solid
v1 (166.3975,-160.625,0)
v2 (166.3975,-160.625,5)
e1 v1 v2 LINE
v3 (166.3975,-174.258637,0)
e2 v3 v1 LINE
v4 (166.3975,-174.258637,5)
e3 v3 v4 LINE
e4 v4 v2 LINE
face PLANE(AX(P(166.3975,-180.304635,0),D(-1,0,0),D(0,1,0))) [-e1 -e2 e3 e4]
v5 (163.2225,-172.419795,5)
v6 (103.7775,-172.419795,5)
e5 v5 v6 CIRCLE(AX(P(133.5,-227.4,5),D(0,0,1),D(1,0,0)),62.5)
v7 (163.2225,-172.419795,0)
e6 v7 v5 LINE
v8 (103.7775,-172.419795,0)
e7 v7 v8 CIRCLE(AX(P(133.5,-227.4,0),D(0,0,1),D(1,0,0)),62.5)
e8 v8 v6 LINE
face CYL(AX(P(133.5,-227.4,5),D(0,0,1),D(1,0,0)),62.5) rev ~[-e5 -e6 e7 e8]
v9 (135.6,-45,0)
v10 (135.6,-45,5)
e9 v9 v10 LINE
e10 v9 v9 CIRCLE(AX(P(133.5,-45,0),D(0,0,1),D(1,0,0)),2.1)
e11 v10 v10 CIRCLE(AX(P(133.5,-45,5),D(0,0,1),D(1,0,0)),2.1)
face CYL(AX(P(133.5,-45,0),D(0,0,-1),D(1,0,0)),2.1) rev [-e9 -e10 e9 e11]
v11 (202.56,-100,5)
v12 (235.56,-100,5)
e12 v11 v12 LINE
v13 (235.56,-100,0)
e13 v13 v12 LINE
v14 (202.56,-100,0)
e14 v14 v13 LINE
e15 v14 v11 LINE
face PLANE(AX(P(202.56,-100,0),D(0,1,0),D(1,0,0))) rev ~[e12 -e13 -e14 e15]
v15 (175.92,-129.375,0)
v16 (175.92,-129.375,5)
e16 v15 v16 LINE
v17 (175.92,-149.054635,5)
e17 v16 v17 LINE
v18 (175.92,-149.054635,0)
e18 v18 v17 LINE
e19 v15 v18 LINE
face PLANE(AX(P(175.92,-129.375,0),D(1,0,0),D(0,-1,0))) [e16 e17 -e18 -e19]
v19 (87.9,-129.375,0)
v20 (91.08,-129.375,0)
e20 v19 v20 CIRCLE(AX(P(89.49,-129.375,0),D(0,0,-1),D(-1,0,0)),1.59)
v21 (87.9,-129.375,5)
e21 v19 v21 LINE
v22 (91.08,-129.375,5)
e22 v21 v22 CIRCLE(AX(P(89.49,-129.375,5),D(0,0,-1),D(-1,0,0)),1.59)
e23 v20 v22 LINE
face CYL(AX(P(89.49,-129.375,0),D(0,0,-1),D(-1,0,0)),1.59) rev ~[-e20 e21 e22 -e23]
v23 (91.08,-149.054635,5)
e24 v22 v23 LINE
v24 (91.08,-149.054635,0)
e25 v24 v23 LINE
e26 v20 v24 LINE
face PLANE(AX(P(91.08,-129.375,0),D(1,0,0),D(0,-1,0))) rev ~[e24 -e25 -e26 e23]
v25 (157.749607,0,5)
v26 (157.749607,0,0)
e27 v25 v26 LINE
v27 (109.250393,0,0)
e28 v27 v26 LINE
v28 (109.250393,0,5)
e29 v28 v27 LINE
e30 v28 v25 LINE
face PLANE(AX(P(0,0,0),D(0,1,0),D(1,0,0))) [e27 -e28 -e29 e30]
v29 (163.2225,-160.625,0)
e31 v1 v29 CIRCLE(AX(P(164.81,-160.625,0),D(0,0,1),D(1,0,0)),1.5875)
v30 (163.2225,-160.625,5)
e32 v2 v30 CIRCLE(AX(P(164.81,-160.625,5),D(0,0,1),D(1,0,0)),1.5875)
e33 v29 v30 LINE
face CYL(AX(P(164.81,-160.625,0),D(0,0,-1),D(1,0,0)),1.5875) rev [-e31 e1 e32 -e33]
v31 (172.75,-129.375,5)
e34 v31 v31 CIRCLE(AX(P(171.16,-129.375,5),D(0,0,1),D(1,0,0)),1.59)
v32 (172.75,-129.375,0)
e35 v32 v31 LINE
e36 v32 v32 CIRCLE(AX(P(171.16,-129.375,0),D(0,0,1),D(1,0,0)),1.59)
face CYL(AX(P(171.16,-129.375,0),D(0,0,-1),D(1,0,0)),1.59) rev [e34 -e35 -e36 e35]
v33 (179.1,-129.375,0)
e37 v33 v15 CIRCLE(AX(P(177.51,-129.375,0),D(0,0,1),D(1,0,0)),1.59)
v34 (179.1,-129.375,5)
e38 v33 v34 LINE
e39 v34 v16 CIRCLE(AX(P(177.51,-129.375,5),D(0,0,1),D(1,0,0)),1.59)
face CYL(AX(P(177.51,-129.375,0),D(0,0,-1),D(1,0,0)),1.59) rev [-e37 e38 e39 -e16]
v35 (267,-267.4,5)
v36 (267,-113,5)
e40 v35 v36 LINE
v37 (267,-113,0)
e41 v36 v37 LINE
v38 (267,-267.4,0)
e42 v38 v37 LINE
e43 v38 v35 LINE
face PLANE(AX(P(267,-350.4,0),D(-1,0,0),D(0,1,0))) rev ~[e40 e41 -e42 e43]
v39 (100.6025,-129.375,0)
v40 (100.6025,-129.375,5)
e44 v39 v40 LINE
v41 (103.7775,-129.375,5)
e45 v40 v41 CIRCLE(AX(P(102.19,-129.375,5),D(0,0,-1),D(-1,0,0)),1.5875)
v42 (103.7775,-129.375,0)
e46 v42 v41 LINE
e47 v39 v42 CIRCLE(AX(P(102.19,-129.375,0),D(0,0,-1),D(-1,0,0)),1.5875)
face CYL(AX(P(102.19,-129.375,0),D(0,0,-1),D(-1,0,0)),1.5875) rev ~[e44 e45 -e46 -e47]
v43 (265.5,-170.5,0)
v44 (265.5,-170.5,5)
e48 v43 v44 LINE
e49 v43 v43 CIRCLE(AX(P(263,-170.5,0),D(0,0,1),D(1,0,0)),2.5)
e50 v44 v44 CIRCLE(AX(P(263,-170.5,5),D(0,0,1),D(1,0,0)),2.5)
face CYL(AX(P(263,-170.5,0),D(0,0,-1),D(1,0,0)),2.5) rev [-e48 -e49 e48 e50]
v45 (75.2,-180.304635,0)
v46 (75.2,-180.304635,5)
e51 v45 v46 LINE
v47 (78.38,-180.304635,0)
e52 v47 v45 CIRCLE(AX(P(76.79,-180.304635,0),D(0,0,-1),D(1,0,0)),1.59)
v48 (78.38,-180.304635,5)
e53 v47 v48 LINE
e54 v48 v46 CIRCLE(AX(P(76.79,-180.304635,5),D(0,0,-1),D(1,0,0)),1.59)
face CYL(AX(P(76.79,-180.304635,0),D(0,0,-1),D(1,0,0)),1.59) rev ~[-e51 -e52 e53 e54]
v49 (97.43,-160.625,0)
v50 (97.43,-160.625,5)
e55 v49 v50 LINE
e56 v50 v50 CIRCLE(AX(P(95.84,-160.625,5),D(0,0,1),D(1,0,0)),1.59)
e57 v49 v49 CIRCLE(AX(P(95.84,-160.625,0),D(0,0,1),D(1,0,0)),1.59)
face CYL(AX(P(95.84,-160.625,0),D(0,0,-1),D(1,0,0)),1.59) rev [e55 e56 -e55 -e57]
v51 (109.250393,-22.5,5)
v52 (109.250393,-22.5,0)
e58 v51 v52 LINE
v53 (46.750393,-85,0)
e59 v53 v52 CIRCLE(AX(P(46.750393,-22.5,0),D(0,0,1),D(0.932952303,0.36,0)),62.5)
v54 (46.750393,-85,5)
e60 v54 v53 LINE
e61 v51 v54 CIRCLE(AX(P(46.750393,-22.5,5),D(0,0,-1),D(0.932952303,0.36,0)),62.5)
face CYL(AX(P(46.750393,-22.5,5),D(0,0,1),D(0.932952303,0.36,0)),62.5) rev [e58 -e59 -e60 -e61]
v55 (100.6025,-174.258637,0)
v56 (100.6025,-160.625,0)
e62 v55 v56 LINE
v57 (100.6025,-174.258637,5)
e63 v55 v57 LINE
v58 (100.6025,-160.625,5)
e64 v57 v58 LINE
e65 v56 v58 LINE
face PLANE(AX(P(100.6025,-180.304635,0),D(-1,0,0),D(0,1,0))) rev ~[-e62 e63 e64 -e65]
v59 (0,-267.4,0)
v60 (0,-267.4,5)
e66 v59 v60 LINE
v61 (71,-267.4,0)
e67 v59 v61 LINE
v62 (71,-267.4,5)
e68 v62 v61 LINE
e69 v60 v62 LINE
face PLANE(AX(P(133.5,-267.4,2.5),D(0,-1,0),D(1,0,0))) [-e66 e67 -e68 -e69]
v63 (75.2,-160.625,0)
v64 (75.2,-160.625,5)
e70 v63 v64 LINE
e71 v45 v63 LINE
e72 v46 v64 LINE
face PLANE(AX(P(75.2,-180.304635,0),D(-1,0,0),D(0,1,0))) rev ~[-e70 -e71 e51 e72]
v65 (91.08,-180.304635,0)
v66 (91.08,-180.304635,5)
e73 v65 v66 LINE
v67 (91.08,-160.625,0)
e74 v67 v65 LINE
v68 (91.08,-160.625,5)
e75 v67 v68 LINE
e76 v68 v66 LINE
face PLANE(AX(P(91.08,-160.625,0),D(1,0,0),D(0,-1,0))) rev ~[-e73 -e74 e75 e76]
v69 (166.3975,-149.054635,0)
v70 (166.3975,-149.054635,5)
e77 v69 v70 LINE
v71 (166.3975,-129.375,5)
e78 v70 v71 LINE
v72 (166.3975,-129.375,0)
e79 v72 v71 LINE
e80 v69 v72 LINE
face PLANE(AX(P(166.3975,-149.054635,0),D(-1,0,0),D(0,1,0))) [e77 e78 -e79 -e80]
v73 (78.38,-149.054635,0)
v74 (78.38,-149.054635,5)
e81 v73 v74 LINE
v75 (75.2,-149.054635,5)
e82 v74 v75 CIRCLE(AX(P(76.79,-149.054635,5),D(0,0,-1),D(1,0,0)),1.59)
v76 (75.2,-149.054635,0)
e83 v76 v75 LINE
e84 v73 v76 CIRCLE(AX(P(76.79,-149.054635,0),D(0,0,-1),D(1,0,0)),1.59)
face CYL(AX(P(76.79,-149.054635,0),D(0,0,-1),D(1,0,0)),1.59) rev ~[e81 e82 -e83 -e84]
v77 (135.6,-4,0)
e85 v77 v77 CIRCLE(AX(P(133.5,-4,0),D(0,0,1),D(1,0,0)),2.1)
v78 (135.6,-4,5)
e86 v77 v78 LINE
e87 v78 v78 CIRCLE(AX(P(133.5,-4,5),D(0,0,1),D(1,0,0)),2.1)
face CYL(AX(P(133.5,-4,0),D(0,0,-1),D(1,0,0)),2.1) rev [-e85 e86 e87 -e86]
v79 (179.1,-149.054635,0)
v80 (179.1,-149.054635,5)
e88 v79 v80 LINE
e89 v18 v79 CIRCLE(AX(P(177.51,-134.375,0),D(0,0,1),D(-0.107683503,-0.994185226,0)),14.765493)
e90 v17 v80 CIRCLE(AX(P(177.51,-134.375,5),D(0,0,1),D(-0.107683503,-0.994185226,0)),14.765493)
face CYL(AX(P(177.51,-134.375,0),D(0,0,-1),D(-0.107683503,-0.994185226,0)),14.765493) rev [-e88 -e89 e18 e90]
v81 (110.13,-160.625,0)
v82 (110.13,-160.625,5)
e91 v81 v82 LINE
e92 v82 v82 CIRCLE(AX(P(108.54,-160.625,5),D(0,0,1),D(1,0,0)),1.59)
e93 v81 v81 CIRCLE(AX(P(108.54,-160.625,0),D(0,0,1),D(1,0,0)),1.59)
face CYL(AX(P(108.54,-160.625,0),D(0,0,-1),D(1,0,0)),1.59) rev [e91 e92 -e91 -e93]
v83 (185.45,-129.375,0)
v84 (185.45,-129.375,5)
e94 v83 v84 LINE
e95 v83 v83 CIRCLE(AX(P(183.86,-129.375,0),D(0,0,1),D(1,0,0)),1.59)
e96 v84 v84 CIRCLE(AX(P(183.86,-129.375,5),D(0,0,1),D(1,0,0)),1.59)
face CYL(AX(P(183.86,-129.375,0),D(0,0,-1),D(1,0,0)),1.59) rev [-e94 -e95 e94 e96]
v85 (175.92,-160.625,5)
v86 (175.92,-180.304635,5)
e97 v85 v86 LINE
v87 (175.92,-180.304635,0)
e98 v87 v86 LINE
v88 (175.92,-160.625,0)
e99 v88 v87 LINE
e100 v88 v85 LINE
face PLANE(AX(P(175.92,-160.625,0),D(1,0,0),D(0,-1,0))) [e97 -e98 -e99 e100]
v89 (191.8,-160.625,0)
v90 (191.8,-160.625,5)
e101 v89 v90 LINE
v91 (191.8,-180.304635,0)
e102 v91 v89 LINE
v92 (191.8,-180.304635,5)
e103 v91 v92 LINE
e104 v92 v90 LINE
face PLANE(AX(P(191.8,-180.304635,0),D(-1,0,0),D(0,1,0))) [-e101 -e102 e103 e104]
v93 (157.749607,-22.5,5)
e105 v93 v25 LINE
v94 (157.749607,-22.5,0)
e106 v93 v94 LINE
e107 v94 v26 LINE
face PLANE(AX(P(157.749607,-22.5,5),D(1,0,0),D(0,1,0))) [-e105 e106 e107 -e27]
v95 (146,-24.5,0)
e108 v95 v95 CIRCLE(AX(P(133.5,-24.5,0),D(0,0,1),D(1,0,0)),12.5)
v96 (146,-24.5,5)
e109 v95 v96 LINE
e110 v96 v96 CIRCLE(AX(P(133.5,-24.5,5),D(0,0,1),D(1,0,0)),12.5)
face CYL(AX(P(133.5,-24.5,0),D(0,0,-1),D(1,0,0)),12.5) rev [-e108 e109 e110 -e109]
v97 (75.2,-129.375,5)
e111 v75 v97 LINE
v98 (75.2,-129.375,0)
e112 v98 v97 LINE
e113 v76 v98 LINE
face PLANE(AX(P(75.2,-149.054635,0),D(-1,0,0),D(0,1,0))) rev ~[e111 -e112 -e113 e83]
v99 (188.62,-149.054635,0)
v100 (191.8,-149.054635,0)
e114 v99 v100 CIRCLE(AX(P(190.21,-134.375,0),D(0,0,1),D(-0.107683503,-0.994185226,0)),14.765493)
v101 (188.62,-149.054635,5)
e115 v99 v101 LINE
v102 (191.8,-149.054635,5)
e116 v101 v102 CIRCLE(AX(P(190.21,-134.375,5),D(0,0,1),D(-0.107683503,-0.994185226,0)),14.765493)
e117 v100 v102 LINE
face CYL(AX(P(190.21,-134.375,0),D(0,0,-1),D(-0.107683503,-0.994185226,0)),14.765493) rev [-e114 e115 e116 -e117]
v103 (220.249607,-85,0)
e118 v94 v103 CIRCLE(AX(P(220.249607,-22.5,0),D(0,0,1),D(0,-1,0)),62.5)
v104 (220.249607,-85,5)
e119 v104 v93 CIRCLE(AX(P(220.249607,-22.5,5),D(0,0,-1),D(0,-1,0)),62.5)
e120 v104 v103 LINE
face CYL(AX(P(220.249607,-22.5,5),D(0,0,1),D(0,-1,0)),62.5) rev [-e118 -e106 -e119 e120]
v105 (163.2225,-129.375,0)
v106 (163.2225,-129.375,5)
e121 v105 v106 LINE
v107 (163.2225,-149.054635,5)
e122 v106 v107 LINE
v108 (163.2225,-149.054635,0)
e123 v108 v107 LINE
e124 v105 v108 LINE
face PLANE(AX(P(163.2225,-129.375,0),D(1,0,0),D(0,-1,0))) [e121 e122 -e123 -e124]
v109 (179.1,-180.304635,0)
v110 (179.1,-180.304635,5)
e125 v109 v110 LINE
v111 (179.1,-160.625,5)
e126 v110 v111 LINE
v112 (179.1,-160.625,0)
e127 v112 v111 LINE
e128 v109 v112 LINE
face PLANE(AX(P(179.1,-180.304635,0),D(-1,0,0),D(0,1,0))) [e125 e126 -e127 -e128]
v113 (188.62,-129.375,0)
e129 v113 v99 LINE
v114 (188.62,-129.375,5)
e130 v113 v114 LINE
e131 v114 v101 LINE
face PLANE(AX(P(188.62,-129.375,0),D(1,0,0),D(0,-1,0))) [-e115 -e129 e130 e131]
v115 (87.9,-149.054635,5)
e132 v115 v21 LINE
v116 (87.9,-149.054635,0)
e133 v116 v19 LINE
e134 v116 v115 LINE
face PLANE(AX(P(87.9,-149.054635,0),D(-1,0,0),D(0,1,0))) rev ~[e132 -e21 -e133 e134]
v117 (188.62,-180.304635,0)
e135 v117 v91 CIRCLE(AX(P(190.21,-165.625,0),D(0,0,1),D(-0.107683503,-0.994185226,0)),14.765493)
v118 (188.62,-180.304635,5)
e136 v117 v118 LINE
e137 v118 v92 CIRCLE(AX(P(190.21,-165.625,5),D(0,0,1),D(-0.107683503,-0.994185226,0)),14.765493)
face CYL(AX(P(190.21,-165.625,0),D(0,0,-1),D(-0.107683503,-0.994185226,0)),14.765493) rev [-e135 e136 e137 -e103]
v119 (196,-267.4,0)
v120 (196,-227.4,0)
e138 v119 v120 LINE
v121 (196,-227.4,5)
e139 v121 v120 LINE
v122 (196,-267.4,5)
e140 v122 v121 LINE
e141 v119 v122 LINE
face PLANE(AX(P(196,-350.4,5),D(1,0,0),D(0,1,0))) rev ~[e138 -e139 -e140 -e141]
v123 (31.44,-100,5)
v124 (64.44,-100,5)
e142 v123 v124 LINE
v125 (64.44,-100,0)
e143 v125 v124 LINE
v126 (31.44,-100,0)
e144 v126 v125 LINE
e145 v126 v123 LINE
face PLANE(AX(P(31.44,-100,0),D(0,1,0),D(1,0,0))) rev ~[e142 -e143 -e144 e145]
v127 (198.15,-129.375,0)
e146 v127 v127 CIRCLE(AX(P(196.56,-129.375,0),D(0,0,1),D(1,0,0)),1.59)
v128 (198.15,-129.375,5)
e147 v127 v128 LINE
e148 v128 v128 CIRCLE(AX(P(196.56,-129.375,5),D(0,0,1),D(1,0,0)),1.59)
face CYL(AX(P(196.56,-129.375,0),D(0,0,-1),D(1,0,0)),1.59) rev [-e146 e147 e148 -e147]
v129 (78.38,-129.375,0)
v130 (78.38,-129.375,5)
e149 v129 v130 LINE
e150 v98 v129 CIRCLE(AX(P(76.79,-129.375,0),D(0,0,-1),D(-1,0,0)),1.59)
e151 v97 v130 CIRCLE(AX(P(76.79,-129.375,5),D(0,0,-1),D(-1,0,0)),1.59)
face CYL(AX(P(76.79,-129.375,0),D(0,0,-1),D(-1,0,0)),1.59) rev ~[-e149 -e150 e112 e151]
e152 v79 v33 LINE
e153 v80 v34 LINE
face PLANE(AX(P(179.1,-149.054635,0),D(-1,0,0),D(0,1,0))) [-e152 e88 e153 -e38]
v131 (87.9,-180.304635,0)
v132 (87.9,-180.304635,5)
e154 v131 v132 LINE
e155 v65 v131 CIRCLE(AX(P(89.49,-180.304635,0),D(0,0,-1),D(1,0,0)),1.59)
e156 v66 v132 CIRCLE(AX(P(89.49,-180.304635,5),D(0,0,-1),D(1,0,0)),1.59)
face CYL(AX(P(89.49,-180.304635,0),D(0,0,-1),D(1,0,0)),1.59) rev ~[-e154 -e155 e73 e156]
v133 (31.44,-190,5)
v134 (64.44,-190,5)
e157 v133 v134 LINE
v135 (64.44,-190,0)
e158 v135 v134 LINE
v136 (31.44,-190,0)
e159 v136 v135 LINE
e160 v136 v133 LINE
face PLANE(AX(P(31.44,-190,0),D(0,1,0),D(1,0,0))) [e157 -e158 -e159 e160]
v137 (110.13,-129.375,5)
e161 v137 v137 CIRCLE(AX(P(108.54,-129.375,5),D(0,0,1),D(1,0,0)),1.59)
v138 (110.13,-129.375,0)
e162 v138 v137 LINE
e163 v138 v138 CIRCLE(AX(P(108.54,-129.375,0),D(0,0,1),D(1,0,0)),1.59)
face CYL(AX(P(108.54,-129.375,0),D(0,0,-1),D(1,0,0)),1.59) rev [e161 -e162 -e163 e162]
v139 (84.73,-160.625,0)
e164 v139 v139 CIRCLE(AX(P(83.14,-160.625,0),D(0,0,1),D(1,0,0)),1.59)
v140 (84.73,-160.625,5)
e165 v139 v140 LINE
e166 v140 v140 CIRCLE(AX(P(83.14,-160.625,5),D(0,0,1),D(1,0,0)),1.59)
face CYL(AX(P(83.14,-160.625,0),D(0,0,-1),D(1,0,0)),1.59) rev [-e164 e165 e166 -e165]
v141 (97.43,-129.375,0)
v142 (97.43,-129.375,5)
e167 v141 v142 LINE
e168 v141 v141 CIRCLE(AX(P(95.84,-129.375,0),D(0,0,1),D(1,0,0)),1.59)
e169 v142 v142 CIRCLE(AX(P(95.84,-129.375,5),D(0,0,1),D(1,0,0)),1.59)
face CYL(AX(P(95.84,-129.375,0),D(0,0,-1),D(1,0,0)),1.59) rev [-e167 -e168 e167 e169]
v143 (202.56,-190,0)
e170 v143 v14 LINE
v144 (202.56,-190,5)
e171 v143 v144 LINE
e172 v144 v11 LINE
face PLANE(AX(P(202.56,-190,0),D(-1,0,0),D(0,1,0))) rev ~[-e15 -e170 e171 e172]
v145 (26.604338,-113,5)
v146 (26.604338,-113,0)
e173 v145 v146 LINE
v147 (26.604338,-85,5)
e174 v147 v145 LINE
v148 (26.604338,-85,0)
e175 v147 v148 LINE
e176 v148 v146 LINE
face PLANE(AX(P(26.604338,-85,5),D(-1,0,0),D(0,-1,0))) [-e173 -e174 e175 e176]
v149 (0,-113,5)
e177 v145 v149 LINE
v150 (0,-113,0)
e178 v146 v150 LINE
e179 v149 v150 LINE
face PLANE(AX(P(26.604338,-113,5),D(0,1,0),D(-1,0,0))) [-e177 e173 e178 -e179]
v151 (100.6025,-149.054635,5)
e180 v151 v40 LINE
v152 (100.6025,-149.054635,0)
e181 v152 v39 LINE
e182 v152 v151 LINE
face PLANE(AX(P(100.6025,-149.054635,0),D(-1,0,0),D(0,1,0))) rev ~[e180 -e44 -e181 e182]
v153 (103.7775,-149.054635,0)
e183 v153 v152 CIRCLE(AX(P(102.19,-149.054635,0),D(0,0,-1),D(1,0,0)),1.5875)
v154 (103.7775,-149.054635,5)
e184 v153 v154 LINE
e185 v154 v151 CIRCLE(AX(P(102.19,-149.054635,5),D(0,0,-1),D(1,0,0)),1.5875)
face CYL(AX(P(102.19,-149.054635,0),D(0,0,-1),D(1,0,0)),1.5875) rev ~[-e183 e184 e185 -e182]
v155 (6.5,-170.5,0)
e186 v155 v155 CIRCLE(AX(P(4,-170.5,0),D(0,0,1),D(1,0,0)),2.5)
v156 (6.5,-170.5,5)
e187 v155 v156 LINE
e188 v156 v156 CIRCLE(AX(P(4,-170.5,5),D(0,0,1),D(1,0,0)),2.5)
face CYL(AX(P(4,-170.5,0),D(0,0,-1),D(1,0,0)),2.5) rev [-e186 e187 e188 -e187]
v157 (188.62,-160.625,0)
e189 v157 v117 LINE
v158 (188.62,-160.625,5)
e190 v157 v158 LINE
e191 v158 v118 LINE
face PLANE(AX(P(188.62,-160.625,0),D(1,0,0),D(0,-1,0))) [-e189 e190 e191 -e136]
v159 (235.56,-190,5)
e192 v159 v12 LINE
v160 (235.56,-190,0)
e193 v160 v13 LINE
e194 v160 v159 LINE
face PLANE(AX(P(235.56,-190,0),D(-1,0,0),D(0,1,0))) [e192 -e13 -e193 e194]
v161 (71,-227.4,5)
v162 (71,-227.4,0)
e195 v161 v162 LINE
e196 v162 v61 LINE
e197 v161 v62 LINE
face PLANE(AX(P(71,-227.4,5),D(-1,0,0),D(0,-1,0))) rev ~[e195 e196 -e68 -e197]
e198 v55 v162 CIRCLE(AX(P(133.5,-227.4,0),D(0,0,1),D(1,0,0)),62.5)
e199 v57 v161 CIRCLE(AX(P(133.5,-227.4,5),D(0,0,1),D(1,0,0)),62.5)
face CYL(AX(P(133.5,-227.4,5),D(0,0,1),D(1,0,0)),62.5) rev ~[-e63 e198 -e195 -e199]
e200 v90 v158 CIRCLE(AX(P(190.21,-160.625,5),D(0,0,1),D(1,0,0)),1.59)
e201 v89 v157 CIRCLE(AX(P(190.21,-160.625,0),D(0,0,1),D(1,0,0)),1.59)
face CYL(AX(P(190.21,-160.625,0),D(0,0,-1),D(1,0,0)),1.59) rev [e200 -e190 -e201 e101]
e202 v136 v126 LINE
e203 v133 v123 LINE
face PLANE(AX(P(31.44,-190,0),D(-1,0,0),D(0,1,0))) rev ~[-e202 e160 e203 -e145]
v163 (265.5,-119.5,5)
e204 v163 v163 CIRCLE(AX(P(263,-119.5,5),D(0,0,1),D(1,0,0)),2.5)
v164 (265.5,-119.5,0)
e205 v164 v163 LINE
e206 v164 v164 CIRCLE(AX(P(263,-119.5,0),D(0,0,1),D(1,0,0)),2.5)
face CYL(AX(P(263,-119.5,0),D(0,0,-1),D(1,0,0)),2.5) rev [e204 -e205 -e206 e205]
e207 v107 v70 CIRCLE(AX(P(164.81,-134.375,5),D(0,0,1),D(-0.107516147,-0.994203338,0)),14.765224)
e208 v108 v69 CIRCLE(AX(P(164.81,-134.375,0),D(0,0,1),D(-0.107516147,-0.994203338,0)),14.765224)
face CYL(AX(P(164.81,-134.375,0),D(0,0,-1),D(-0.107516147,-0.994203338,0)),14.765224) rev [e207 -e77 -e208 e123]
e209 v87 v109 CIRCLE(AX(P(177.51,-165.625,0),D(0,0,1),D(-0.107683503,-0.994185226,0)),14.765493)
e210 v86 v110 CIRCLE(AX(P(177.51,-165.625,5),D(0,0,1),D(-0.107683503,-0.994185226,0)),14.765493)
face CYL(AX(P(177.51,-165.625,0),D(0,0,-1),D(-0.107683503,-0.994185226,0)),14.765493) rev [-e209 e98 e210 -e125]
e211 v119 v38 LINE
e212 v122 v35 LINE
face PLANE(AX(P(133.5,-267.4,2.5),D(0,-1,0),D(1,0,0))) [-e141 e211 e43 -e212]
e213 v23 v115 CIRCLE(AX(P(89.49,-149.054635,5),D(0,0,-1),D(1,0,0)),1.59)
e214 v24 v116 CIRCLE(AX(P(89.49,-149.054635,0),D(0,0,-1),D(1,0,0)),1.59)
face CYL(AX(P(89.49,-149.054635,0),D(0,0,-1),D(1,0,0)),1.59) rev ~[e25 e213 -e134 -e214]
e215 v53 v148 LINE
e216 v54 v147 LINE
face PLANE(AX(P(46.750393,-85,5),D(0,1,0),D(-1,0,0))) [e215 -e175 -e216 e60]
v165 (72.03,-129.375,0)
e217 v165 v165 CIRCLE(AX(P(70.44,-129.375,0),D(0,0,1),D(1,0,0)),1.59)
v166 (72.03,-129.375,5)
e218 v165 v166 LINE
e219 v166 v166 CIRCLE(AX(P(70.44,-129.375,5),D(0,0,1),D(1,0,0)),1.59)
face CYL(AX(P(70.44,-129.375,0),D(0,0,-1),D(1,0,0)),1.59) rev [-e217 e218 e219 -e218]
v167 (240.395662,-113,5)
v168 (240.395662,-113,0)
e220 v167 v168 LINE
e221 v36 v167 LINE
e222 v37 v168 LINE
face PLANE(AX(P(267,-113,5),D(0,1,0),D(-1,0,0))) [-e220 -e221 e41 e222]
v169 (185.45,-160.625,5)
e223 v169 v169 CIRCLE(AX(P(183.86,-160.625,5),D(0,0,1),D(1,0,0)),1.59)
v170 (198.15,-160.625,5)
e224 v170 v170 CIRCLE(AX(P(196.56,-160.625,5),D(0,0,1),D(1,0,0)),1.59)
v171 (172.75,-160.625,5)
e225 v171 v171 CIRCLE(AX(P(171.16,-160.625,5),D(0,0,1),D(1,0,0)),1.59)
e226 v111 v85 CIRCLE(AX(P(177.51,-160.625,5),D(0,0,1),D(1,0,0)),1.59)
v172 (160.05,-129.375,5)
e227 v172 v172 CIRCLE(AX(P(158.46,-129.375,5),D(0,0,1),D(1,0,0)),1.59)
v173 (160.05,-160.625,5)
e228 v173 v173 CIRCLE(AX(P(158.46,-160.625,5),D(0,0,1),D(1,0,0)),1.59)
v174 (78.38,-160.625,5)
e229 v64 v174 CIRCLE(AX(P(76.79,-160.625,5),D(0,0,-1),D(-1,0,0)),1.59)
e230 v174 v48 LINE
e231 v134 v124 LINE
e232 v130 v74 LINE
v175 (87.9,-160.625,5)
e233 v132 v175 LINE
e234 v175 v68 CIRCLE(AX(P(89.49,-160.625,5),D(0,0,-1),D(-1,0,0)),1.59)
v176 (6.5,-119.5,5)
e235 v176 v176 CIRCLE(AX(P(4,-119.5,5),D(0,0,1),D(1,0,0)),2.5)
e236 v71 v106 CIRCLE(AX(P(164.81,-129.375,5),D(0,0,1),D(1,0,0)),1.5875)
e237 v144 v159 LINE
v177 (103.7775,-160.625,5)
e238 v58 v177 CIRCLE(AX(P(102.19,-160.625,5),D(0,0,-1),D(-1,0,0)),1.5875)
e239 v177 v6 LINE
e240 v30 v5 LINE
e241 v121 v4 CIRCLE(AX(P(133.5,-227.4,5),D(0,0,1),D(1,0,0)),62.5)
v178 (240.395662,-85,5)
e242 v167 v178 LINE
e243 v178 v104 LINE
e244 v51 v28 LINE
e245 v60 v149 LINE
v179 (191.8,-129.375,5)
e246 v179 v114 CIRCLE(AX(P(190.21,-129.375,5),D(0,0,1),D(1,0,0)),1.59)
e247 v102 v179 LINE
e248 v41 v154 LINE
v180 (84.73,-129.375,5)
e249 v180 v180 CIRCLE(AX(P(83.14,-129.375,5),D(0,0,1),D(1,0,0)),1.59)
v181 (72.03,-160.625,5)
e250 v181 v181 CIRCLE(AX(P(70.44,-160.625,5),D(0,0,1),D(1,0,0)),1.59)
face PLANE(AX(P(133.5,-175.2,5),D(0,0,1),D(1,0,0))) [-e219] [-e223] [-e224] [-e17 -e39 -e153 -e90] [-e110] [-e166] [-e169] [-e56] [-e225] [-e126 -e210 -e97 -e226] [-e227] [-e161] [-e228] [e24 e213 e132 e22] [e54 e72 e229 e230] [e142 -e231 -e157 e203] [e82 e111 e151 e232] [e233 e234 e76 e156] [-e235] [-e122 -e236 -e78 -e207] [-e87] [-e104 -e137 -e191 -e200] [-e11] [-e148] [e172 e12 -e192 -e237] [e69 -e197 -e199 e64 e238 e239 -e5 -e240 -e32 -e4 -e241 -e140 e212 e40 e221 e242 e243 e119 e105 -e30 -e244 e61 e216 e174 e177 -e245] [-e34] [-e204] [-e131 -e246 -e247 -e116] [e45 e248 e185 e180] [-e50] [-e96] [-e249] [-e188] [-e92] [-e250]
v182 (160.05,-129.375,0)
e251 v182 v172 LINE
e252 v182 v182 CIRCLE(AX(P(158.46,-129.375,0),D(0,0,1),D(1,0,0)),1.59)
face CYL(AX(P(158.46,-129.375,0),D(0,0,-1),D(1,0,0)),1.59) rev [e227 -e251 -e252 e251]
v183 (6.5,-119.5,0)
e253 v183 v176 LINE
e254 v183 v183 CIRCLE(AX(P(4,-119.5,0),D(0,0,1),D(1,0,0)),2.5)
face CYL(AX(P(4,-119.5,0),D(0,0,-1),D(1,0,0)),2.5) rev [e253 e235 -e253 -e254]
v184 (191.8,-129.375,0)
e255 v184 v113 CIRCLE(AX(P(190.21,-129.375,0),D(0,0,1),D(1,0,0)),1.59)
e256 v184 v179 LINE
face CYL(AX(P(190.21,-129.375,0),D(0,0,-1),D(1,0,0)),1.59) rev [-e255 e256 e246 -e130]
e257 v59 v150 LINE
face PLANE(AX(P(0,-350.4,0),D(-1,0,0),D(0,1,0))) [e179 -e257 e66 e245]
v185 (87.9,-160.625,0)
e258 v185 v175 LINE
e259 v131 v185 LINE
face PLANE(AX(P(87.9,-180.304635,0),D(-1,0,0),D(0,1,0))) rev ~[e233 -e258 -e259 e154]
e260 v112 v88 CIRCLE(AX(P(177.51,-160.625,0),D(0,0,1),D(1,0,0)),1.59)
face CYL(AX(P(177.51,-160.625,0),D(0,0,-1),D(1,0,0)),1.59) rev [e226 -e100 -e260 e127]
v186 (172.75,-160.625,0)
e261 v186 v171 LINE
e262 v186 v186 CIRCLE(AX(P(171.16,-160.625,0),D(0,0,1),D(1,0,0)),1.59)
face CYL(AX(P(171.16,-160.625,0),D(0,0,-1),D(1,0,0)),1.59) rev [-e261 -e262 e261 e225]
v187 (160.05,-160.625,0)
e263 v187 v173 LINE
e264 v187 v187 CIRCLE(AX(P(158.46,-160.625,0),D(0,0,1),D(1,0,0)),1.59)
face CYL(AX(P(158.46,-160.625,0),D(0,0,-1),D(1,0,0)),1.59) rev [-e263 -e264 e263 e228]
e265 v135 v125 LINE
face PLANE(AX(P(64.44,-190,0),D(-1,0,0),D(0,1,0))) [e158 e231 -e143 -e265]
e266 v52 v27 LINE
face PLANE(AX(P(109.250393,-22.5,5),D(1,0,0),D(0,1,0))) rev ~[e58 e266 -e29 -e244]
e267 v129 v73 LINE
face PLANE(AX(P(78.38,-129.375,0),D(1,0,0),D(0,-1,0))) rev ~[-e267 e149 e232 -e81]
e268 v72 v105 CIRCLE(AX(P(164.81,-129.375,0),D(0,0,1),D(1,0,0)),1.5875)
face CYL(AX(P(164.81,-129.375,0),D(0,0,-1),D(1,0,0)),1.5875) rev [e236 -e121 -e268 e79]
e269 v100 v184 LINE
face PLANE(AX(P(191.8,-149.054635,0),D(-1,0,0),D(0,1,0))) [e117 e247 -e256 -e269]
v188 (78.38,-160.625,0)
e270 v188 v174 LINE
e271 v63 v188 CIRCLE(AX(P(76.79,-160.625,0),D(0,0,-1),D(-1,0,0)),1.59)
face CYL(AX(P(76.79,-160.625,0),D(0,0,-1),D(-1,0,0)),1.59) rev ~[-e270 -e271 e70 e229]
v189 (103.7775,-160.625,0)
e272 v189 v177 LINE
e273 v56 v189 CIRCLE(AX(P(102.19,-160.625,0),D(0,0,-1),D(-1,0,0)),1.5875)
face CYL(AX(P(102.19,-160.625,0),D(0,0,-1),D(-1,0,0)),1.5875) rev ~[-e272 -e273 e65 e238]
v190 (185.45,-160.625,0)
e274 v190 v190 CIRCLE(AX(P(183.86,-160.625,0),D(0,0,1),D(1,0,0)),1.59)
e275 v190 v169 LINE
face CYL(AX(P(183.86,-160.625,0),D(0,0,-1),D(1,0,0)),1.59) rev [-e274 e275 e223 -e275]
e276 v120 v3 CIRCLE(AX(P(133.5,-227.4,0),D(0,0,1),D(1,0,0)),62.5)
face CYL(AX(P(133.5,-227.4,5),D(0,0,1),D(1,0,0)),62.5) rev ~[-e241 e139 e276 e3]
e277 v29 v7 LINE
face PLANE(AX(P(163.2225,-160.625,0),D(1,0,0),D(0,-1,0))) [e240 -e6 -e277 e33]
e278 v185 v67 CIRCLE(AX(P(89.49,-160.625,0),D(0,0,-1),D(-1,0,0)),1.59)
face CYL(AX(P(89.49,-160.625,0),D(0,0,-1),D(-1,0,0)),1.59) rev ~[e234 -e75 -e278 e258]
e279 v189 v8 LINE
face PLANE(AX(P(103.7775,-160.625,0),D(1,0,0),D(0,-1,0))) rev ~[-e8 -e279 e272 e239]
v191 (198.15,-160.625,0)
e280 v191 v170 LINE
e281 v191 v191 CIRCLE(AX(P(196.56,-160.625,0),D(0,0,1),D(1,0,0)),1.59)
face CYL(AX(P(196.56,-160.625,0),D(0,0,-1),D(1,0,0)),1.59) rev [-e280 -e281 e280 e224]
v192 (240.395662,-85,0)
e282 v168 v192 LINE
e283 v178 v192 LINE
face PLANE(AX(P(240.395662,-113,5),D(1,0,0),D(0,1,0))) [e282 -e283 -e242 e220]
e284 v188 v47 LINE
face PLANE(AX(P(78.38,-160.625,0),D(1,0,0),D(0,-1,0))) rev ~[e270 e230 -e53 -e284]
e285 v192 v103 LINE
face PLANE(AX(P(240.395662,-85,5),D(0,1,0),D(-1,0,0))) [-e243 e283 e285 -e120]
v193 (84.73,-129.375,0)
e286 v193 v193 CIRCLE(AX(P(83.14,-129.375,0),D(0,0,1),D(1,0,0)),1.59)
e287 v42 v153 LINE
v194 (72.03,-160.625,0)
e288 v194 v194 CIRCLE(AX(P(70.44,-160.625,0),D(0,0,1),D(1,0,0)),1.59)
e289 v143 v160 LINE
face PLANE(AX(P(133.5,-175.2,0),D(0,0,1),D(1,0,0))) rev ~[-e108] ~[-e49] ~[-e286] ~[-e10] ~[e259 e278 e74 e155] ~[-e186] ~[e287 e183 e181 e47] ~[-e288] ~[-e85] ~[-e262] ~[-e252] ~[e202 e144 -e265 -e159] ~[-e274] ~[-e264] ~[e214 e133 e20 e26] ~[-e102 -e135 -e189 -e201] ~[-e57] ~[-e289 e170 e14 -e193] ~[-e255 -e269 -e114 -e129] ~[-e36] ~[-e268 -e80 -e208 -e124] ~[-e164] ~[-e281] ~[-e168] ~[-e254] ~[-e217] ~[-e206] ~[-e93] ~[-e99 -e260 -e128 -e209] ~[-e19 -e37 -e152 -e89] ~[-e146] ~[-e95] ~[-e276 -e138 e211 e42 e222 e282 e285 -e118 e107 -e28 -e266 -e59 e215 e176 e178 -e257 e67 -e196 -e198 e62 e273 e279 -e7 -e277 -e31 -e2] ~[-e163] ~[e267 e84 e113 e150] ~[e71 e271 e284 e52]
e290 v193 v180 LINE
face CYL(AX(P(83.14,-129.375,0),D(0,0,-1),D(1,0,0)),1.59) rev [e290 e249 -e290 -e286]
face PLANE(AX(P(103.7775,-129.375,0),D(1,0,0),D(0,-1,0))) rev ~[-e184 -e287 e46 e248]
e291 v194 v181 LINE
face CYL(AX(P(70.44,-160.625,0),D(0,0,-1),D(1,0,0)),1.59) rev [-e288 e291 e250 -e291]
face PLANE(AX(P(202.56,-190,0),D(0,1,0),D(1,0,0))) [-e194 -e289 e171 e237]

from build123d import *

# Parameters (mm, degrees)
SKETCH1_W           = 267
SKETCH1_H           = 350.4
SKETCH1_R           = 2.1
SKETCH1_R_2         = 2.5
SKETCH1_R_3         = 1.59
SKETCH1_R_4         = 12.5
SKETCH1_W_2         = 33
SKETCH1_H_2         = 90
BOSS_EXTRUDE1_DEPTH = 5
SKETCH12_W          = 267
SKETCH12_H          = 5
CUT_EXTRUDE2_DEPTH  = 83
CUT_EXTRUDE3_DEPTH  = 6
SKETCH15_W          = 28.794476706
SKETCH15_H          = 22.5
SKETCH15_W_2        = 7.746360579
CUT_EXTRUDE4_DEPTH  = 10


with BuildPart() as part:
    # Sketch1 → Boss-Extrude1 (new body)
    with BuildSketch(Plane.XY):
        with Locations((133.5, -175.2)):
            Rectangle(SKETCH1_W, SKETCH1_H)
        with Locations((133.5, -45)):
            Circle(SKETCH1_R, mode=Mode.SUBTRACT)
        with Locations((133.5, -4)):
            Circle(SKETCH1_R, mode=Mode.SUBTRACT)
        with Locations((263, -119.5)):
            Circle(SKETCH1_R_2, mode=Mode.SUBTRACT)
        with Locations((263, -170.5)):
            Circle(SKETCH1_R_2, mode=Mode.SUBTRACT)
        with Locations((196.56, -129.375)):
            Circle(SKETCH1_R_3, mode=Mode.SUBTRACT)
        with Locations((196.56, -160.625)):
            Circle(SKETCH1_R_3, mode=Mode.SUBTRACT)
        with Locations((133.5, -24.5)):
            Circle(SKETCH1_R_4, mode=Mode.SUBTRACT)
        with Locations((158.46, -129.375)):
            Circle(SKETCH1_R_3, mode=Mode.SUBTRACT)
        with Locations((171.16, -129.375)):
            Circle(SKETCH1_R_3, mode=Mode.SUBTRACT)
        with Locations((183.86, -129.375)):
            Circle(SKETCH1_R_3, mode=Mode.SUBTRACT)
        with Locations((158.46, -160.625)):
            Circle(SKETCH1_R_3, mode=Mode.SUBTRACT)
        with Locations((171.16, -160.625)):
            Circle(SKETCH1_R_3, mode=Mode.SUBTRACT)
        with Locations((183.86, -160.625)):
            Circle(SKETCH1_R_3, mode=Mode.SUBTRACT)
        with Locations((83.14, -160.625)):
            Circle(SKETCH1_R_3, mode=Mode.SUBTRACT)
        with Locations((95.84, -160.625)):
            Circle(SKETCH1_R_3, mode=Mode.SUBTRACT)
        with Locations((108.54, -160.625)):
            Circle(SKETCH1_R_3, mode=Mode.SUBTRACT)
        with Locations((83.14, -129.375)):
            Circle(SKETCH1_R_3, mode=Mode.SUBTRACT)
        with Locations((95.84, -129.375)):
            Circle(SKETCH1_R_3, mode=Mode.SUBTRACT)
        with Locations((108.54, -129.375)):
            Circle(SKETCH1_R_3, mode=Mode.SUBTRACT)
        with Locations((70.44, -160.625)):
            Circle(SKETCH1_R_3, mode=Mode.SUBTRACT)
        with Locations((70.44, -129.375)):
            Circle(SKETCH1_R_3, mode=Mode.SUBTRACT)
        with Locations((4, -170.5)):
            Circle(SKETCH1_R_2, mode=Mode.SUBTRACT)
        with Locations((4, -119.5)):
            Circle(SKETCH1_R_2, mode=Mode.SUBTRACT)
        with Locations((219.06, -145)):
            Rectangle(SKETCH1_W_2, SKETCH1_H_2, mode=Mode.SUBTRACT)
        with BuildLine():
            Line((163.2225, -129.375), (163.2225, -149.054634918))
            ThreePointArc((163.2225, -149.054634918), (164.81, -149.140223925), (166.3975, -149.054634918))
            Line((166.3975, -149.054634918), (166.3975, -129.375))
            ThreePointArc((166.3975, -129.375), (164.81, -127.7875), (163.2225, -129.375))
        make_face(mode=Mode.SUBTRACT)
        with BuildLine():
            Line((175.92, -129.375), (175.92, -149.054634918))
            ThreePointArc((175.92, -149.054634918), (177.51, -149.140492925), (179.1, -149.054634918))
            Line((179.1, -149.054634918), (179.1, -129.375))
            ThreePointArc((179.1, -129.375), (177.51, -127.785), (175.92, -129.375))
        make_face(mode=Mode.SUBTRACT)
        with BuildLine():
            Line((188.62, -129.375), (188.62, -149.054634918))
            ThreePointArc((188.62, -149.054634918), (190.21, -149.140492925), (191.8, -149.054634918))
            Line((191.8, -149.054634918), (191.8, -129.375))
            ThreePointArc((191.8, -129.375), (190.21, -127.785), (188.62, -129.375))
        make_face(mode=Mode.SUBTRACT)
        with BuildLine():
            Line((163.2225, -160.625), (163.2225, -180.304634918))
            ThreePointArc((163.2225, -180.304634918), (164.81, -180.390223925), (166.3975, -180.304634918))
            Line((166.3975, -180.304634918), (166.3975, -160.625))
            ThreePointArc((166.3975, -160.625), (164.81, -159.0375), (163.2225, -160.625))
        make_face(mode=Mode.SUBTRACT)
        with BuildLine():
            Line((175.92, -160.625), (175.92, -180.304634918))
            ThreePointArc((175.92, -180.304634918), (177.51, -180.390492925), (179.1, -180.304634918))
            Line((179.1, -180.304634918), (179.1, -160.625))
            ThreePointArc((179.1, -160.625), (177.51, -159.035), (175.92, -160.625))
        make_face(mode=Mode.SUBTRACT)
        with BuildLine():
            Line((188.62, -160.625), (188.62, -180.304634918))
            ThreePointArc((188.62, -180.304634918), (190.21, -180.390492925), (191.8, -180.304634918))
            Line((191.8, -180.304634918), (191.8, -160.625))
            ThreePointArc((191.8, -160.625), (190.21, -159.035), (188.62, -160.625))
        make_face(mode=Mode.SUBTRACT)
        with BuildLine():
            Line((103.7775, -129.375), (103.7775, -149.054634918))
            ThreePointArc((103.7775, -149.054634918), (102.19, -150.642134918), (100.6025, -149.054634918))
            Line((100.6025, -149.054634918), (100.6025, -129.375))
            ThreePointArc((100.6025, -129.375), (102.19, -127.7875), (103.7775, -129.375))
        make_face(mode=Mode.SUBTRACT)
        with BuildLine():
            Line((91.08, -129.375), (91.08, -149.054634918))
            ThreePointArc((91.08, -149.054634918), (89.49, -150.644634918), (87.9, -149.054634918))
            Line((87.9, -149.054634918), (87.9, -129.375))
            ThreePointArc((87.9, -129.375), (89.49, -127.785), (91.08, -129.375))
        make_face(mode=Mode.SUBTRACT)
        with BuildLine():
            Line((78.38, -129.375), (78.38, -149.054634918))
            ThreePointArc((78.38, -149.054634918), (76.79, -150.644634918), (75.2, -149.054634918))
            Line((75.2, -149.054634918), (75.2, -129.375))
            ThreePointArc((75.2, -129.375), (76.79, -127.785), (78.38, -129.375))
        make_face(mode=Mode.SUBTRACT)
        with BuildLine():
            Line((103.7775, -160.625), (103.7775, -180.304634918))
            ThreePointArc((103.7775, -180.304634918), (102.19, -181.892134918), (100.6025, -180.304634918))
            Line((100.6025, -180.304634918), (100.6025, -160.625))
            ThreePointArc((100.6025, -160.625), (102.19, -159.0375), (103.7775, -160.625))
        make_face(mode=Mode.SUBTRACT)
        with BuildLine():
            Line((91.08, -160.625), (91.08, -180.304634918))
            ThreePointArc((91.08, -180.304634918), (89.49, -181.894634918), (87.9, -180.304634918))
            Line((87.9, -180.304634918), (87.9, -160.625))
            ThreePointArc((87.9, -160.625), (89.49, -159.035), (91.08, -160.625))
        make_face(mode=Mode.SUBTRACT)
        with BuildLine():
            Line((78.38, -160.625), (78.38, -180.304634918))
            ThreePointArc((78.38, -180.304634918), (76.79, -181.894634918), (75.2, -180.304634918))
            Line((75.2, -180.304634918), (75.2, -160.625))
            ThreePointArc((75.2, -160.625), (76.79, -159.035), (78.38, -160.625))
        make_face(mode=Mode.SUBTRACT)
        with Locations((47.94, -145)):
            Rectangle(SKETCH1_W_2, SKETCH1_H_2, mode=Mode.SUBTRACT)
    extrude(amount=BOSS_EXTRUDE1_DEPTH)

    # Sketch12 → Cut-Extrude2 (cut)
    with BuildSketch(Plane.XZ.offset(350.4)):
        with Locations((133.5, 2.5)):
            Rectangle(SKETCH12_W, SKETCH12_H)
    extrude(amount=-CUT_EXTRUDE2_DEPTH, mode=Mode.SUBTRACT)

    # Sketch13 → Cut-Extrude3 (cut, through all)
    with BuildSketch(Plane.XY.offset(5)):
        with BuildLine():
            Line((46.750392508, -85), (26.604338358, -85))
            Line((26.604338358, -85), (26.604338358, -113))
            Line((26.604338358, -113), (0, -113))
            Line((0, -113), (0, 0))
            Line((0, 0), (105.059911457, 0))
            ThreePointArc((105.059911457, 0), (98.289212828, -57.855339059), (46.750392508, -85))
        make_face()
        with BuildLine():
            Line((267, 0), (267, -113))
            Line((267, -113), (240.395661642, -113))
            Line((240.395661642, -113), (240.395661642, -85))
            Line((240.395661642, -85), (220.249607492, -85))
            ThreePointArc((220.249607492, -85), (168.710787172, -57.855339059), (161.940088543, 0))
            Line((161.940088543, 0), (267, 0))
        make_face()
        with BuildLine():
            Line((71, -227.4), (71, -350.4))
            Line((71, -350.4), (196, -350.4))
            Line((196, -350.4), (196, -227.4))
            ThreePointArc((196, -227.4), (133.5, -164.9), (71, -227.4))
        make_face()
    extrude(amount=-CUT_EXTRUDE3_DEPTH, mode=Mode.SUBTRACT)

    # Sketch15 → Cut-Extrude4 (cut)
    with BuildSketch(Plane.XY.offset(5)):
        with Locations((94.853154155, -11.25)):
            Rectangle(SKETCH15_W, SKETCH15_H)
        with Locations((161.622787782, -11.25)):
            Rectangle(SKETCH15_W_2, SKETCH15_H)
    extrude(amount=-CUT_EXTRUDE4_DEPTH, mode=Mode.SUBTRACT)


solid = part.part
